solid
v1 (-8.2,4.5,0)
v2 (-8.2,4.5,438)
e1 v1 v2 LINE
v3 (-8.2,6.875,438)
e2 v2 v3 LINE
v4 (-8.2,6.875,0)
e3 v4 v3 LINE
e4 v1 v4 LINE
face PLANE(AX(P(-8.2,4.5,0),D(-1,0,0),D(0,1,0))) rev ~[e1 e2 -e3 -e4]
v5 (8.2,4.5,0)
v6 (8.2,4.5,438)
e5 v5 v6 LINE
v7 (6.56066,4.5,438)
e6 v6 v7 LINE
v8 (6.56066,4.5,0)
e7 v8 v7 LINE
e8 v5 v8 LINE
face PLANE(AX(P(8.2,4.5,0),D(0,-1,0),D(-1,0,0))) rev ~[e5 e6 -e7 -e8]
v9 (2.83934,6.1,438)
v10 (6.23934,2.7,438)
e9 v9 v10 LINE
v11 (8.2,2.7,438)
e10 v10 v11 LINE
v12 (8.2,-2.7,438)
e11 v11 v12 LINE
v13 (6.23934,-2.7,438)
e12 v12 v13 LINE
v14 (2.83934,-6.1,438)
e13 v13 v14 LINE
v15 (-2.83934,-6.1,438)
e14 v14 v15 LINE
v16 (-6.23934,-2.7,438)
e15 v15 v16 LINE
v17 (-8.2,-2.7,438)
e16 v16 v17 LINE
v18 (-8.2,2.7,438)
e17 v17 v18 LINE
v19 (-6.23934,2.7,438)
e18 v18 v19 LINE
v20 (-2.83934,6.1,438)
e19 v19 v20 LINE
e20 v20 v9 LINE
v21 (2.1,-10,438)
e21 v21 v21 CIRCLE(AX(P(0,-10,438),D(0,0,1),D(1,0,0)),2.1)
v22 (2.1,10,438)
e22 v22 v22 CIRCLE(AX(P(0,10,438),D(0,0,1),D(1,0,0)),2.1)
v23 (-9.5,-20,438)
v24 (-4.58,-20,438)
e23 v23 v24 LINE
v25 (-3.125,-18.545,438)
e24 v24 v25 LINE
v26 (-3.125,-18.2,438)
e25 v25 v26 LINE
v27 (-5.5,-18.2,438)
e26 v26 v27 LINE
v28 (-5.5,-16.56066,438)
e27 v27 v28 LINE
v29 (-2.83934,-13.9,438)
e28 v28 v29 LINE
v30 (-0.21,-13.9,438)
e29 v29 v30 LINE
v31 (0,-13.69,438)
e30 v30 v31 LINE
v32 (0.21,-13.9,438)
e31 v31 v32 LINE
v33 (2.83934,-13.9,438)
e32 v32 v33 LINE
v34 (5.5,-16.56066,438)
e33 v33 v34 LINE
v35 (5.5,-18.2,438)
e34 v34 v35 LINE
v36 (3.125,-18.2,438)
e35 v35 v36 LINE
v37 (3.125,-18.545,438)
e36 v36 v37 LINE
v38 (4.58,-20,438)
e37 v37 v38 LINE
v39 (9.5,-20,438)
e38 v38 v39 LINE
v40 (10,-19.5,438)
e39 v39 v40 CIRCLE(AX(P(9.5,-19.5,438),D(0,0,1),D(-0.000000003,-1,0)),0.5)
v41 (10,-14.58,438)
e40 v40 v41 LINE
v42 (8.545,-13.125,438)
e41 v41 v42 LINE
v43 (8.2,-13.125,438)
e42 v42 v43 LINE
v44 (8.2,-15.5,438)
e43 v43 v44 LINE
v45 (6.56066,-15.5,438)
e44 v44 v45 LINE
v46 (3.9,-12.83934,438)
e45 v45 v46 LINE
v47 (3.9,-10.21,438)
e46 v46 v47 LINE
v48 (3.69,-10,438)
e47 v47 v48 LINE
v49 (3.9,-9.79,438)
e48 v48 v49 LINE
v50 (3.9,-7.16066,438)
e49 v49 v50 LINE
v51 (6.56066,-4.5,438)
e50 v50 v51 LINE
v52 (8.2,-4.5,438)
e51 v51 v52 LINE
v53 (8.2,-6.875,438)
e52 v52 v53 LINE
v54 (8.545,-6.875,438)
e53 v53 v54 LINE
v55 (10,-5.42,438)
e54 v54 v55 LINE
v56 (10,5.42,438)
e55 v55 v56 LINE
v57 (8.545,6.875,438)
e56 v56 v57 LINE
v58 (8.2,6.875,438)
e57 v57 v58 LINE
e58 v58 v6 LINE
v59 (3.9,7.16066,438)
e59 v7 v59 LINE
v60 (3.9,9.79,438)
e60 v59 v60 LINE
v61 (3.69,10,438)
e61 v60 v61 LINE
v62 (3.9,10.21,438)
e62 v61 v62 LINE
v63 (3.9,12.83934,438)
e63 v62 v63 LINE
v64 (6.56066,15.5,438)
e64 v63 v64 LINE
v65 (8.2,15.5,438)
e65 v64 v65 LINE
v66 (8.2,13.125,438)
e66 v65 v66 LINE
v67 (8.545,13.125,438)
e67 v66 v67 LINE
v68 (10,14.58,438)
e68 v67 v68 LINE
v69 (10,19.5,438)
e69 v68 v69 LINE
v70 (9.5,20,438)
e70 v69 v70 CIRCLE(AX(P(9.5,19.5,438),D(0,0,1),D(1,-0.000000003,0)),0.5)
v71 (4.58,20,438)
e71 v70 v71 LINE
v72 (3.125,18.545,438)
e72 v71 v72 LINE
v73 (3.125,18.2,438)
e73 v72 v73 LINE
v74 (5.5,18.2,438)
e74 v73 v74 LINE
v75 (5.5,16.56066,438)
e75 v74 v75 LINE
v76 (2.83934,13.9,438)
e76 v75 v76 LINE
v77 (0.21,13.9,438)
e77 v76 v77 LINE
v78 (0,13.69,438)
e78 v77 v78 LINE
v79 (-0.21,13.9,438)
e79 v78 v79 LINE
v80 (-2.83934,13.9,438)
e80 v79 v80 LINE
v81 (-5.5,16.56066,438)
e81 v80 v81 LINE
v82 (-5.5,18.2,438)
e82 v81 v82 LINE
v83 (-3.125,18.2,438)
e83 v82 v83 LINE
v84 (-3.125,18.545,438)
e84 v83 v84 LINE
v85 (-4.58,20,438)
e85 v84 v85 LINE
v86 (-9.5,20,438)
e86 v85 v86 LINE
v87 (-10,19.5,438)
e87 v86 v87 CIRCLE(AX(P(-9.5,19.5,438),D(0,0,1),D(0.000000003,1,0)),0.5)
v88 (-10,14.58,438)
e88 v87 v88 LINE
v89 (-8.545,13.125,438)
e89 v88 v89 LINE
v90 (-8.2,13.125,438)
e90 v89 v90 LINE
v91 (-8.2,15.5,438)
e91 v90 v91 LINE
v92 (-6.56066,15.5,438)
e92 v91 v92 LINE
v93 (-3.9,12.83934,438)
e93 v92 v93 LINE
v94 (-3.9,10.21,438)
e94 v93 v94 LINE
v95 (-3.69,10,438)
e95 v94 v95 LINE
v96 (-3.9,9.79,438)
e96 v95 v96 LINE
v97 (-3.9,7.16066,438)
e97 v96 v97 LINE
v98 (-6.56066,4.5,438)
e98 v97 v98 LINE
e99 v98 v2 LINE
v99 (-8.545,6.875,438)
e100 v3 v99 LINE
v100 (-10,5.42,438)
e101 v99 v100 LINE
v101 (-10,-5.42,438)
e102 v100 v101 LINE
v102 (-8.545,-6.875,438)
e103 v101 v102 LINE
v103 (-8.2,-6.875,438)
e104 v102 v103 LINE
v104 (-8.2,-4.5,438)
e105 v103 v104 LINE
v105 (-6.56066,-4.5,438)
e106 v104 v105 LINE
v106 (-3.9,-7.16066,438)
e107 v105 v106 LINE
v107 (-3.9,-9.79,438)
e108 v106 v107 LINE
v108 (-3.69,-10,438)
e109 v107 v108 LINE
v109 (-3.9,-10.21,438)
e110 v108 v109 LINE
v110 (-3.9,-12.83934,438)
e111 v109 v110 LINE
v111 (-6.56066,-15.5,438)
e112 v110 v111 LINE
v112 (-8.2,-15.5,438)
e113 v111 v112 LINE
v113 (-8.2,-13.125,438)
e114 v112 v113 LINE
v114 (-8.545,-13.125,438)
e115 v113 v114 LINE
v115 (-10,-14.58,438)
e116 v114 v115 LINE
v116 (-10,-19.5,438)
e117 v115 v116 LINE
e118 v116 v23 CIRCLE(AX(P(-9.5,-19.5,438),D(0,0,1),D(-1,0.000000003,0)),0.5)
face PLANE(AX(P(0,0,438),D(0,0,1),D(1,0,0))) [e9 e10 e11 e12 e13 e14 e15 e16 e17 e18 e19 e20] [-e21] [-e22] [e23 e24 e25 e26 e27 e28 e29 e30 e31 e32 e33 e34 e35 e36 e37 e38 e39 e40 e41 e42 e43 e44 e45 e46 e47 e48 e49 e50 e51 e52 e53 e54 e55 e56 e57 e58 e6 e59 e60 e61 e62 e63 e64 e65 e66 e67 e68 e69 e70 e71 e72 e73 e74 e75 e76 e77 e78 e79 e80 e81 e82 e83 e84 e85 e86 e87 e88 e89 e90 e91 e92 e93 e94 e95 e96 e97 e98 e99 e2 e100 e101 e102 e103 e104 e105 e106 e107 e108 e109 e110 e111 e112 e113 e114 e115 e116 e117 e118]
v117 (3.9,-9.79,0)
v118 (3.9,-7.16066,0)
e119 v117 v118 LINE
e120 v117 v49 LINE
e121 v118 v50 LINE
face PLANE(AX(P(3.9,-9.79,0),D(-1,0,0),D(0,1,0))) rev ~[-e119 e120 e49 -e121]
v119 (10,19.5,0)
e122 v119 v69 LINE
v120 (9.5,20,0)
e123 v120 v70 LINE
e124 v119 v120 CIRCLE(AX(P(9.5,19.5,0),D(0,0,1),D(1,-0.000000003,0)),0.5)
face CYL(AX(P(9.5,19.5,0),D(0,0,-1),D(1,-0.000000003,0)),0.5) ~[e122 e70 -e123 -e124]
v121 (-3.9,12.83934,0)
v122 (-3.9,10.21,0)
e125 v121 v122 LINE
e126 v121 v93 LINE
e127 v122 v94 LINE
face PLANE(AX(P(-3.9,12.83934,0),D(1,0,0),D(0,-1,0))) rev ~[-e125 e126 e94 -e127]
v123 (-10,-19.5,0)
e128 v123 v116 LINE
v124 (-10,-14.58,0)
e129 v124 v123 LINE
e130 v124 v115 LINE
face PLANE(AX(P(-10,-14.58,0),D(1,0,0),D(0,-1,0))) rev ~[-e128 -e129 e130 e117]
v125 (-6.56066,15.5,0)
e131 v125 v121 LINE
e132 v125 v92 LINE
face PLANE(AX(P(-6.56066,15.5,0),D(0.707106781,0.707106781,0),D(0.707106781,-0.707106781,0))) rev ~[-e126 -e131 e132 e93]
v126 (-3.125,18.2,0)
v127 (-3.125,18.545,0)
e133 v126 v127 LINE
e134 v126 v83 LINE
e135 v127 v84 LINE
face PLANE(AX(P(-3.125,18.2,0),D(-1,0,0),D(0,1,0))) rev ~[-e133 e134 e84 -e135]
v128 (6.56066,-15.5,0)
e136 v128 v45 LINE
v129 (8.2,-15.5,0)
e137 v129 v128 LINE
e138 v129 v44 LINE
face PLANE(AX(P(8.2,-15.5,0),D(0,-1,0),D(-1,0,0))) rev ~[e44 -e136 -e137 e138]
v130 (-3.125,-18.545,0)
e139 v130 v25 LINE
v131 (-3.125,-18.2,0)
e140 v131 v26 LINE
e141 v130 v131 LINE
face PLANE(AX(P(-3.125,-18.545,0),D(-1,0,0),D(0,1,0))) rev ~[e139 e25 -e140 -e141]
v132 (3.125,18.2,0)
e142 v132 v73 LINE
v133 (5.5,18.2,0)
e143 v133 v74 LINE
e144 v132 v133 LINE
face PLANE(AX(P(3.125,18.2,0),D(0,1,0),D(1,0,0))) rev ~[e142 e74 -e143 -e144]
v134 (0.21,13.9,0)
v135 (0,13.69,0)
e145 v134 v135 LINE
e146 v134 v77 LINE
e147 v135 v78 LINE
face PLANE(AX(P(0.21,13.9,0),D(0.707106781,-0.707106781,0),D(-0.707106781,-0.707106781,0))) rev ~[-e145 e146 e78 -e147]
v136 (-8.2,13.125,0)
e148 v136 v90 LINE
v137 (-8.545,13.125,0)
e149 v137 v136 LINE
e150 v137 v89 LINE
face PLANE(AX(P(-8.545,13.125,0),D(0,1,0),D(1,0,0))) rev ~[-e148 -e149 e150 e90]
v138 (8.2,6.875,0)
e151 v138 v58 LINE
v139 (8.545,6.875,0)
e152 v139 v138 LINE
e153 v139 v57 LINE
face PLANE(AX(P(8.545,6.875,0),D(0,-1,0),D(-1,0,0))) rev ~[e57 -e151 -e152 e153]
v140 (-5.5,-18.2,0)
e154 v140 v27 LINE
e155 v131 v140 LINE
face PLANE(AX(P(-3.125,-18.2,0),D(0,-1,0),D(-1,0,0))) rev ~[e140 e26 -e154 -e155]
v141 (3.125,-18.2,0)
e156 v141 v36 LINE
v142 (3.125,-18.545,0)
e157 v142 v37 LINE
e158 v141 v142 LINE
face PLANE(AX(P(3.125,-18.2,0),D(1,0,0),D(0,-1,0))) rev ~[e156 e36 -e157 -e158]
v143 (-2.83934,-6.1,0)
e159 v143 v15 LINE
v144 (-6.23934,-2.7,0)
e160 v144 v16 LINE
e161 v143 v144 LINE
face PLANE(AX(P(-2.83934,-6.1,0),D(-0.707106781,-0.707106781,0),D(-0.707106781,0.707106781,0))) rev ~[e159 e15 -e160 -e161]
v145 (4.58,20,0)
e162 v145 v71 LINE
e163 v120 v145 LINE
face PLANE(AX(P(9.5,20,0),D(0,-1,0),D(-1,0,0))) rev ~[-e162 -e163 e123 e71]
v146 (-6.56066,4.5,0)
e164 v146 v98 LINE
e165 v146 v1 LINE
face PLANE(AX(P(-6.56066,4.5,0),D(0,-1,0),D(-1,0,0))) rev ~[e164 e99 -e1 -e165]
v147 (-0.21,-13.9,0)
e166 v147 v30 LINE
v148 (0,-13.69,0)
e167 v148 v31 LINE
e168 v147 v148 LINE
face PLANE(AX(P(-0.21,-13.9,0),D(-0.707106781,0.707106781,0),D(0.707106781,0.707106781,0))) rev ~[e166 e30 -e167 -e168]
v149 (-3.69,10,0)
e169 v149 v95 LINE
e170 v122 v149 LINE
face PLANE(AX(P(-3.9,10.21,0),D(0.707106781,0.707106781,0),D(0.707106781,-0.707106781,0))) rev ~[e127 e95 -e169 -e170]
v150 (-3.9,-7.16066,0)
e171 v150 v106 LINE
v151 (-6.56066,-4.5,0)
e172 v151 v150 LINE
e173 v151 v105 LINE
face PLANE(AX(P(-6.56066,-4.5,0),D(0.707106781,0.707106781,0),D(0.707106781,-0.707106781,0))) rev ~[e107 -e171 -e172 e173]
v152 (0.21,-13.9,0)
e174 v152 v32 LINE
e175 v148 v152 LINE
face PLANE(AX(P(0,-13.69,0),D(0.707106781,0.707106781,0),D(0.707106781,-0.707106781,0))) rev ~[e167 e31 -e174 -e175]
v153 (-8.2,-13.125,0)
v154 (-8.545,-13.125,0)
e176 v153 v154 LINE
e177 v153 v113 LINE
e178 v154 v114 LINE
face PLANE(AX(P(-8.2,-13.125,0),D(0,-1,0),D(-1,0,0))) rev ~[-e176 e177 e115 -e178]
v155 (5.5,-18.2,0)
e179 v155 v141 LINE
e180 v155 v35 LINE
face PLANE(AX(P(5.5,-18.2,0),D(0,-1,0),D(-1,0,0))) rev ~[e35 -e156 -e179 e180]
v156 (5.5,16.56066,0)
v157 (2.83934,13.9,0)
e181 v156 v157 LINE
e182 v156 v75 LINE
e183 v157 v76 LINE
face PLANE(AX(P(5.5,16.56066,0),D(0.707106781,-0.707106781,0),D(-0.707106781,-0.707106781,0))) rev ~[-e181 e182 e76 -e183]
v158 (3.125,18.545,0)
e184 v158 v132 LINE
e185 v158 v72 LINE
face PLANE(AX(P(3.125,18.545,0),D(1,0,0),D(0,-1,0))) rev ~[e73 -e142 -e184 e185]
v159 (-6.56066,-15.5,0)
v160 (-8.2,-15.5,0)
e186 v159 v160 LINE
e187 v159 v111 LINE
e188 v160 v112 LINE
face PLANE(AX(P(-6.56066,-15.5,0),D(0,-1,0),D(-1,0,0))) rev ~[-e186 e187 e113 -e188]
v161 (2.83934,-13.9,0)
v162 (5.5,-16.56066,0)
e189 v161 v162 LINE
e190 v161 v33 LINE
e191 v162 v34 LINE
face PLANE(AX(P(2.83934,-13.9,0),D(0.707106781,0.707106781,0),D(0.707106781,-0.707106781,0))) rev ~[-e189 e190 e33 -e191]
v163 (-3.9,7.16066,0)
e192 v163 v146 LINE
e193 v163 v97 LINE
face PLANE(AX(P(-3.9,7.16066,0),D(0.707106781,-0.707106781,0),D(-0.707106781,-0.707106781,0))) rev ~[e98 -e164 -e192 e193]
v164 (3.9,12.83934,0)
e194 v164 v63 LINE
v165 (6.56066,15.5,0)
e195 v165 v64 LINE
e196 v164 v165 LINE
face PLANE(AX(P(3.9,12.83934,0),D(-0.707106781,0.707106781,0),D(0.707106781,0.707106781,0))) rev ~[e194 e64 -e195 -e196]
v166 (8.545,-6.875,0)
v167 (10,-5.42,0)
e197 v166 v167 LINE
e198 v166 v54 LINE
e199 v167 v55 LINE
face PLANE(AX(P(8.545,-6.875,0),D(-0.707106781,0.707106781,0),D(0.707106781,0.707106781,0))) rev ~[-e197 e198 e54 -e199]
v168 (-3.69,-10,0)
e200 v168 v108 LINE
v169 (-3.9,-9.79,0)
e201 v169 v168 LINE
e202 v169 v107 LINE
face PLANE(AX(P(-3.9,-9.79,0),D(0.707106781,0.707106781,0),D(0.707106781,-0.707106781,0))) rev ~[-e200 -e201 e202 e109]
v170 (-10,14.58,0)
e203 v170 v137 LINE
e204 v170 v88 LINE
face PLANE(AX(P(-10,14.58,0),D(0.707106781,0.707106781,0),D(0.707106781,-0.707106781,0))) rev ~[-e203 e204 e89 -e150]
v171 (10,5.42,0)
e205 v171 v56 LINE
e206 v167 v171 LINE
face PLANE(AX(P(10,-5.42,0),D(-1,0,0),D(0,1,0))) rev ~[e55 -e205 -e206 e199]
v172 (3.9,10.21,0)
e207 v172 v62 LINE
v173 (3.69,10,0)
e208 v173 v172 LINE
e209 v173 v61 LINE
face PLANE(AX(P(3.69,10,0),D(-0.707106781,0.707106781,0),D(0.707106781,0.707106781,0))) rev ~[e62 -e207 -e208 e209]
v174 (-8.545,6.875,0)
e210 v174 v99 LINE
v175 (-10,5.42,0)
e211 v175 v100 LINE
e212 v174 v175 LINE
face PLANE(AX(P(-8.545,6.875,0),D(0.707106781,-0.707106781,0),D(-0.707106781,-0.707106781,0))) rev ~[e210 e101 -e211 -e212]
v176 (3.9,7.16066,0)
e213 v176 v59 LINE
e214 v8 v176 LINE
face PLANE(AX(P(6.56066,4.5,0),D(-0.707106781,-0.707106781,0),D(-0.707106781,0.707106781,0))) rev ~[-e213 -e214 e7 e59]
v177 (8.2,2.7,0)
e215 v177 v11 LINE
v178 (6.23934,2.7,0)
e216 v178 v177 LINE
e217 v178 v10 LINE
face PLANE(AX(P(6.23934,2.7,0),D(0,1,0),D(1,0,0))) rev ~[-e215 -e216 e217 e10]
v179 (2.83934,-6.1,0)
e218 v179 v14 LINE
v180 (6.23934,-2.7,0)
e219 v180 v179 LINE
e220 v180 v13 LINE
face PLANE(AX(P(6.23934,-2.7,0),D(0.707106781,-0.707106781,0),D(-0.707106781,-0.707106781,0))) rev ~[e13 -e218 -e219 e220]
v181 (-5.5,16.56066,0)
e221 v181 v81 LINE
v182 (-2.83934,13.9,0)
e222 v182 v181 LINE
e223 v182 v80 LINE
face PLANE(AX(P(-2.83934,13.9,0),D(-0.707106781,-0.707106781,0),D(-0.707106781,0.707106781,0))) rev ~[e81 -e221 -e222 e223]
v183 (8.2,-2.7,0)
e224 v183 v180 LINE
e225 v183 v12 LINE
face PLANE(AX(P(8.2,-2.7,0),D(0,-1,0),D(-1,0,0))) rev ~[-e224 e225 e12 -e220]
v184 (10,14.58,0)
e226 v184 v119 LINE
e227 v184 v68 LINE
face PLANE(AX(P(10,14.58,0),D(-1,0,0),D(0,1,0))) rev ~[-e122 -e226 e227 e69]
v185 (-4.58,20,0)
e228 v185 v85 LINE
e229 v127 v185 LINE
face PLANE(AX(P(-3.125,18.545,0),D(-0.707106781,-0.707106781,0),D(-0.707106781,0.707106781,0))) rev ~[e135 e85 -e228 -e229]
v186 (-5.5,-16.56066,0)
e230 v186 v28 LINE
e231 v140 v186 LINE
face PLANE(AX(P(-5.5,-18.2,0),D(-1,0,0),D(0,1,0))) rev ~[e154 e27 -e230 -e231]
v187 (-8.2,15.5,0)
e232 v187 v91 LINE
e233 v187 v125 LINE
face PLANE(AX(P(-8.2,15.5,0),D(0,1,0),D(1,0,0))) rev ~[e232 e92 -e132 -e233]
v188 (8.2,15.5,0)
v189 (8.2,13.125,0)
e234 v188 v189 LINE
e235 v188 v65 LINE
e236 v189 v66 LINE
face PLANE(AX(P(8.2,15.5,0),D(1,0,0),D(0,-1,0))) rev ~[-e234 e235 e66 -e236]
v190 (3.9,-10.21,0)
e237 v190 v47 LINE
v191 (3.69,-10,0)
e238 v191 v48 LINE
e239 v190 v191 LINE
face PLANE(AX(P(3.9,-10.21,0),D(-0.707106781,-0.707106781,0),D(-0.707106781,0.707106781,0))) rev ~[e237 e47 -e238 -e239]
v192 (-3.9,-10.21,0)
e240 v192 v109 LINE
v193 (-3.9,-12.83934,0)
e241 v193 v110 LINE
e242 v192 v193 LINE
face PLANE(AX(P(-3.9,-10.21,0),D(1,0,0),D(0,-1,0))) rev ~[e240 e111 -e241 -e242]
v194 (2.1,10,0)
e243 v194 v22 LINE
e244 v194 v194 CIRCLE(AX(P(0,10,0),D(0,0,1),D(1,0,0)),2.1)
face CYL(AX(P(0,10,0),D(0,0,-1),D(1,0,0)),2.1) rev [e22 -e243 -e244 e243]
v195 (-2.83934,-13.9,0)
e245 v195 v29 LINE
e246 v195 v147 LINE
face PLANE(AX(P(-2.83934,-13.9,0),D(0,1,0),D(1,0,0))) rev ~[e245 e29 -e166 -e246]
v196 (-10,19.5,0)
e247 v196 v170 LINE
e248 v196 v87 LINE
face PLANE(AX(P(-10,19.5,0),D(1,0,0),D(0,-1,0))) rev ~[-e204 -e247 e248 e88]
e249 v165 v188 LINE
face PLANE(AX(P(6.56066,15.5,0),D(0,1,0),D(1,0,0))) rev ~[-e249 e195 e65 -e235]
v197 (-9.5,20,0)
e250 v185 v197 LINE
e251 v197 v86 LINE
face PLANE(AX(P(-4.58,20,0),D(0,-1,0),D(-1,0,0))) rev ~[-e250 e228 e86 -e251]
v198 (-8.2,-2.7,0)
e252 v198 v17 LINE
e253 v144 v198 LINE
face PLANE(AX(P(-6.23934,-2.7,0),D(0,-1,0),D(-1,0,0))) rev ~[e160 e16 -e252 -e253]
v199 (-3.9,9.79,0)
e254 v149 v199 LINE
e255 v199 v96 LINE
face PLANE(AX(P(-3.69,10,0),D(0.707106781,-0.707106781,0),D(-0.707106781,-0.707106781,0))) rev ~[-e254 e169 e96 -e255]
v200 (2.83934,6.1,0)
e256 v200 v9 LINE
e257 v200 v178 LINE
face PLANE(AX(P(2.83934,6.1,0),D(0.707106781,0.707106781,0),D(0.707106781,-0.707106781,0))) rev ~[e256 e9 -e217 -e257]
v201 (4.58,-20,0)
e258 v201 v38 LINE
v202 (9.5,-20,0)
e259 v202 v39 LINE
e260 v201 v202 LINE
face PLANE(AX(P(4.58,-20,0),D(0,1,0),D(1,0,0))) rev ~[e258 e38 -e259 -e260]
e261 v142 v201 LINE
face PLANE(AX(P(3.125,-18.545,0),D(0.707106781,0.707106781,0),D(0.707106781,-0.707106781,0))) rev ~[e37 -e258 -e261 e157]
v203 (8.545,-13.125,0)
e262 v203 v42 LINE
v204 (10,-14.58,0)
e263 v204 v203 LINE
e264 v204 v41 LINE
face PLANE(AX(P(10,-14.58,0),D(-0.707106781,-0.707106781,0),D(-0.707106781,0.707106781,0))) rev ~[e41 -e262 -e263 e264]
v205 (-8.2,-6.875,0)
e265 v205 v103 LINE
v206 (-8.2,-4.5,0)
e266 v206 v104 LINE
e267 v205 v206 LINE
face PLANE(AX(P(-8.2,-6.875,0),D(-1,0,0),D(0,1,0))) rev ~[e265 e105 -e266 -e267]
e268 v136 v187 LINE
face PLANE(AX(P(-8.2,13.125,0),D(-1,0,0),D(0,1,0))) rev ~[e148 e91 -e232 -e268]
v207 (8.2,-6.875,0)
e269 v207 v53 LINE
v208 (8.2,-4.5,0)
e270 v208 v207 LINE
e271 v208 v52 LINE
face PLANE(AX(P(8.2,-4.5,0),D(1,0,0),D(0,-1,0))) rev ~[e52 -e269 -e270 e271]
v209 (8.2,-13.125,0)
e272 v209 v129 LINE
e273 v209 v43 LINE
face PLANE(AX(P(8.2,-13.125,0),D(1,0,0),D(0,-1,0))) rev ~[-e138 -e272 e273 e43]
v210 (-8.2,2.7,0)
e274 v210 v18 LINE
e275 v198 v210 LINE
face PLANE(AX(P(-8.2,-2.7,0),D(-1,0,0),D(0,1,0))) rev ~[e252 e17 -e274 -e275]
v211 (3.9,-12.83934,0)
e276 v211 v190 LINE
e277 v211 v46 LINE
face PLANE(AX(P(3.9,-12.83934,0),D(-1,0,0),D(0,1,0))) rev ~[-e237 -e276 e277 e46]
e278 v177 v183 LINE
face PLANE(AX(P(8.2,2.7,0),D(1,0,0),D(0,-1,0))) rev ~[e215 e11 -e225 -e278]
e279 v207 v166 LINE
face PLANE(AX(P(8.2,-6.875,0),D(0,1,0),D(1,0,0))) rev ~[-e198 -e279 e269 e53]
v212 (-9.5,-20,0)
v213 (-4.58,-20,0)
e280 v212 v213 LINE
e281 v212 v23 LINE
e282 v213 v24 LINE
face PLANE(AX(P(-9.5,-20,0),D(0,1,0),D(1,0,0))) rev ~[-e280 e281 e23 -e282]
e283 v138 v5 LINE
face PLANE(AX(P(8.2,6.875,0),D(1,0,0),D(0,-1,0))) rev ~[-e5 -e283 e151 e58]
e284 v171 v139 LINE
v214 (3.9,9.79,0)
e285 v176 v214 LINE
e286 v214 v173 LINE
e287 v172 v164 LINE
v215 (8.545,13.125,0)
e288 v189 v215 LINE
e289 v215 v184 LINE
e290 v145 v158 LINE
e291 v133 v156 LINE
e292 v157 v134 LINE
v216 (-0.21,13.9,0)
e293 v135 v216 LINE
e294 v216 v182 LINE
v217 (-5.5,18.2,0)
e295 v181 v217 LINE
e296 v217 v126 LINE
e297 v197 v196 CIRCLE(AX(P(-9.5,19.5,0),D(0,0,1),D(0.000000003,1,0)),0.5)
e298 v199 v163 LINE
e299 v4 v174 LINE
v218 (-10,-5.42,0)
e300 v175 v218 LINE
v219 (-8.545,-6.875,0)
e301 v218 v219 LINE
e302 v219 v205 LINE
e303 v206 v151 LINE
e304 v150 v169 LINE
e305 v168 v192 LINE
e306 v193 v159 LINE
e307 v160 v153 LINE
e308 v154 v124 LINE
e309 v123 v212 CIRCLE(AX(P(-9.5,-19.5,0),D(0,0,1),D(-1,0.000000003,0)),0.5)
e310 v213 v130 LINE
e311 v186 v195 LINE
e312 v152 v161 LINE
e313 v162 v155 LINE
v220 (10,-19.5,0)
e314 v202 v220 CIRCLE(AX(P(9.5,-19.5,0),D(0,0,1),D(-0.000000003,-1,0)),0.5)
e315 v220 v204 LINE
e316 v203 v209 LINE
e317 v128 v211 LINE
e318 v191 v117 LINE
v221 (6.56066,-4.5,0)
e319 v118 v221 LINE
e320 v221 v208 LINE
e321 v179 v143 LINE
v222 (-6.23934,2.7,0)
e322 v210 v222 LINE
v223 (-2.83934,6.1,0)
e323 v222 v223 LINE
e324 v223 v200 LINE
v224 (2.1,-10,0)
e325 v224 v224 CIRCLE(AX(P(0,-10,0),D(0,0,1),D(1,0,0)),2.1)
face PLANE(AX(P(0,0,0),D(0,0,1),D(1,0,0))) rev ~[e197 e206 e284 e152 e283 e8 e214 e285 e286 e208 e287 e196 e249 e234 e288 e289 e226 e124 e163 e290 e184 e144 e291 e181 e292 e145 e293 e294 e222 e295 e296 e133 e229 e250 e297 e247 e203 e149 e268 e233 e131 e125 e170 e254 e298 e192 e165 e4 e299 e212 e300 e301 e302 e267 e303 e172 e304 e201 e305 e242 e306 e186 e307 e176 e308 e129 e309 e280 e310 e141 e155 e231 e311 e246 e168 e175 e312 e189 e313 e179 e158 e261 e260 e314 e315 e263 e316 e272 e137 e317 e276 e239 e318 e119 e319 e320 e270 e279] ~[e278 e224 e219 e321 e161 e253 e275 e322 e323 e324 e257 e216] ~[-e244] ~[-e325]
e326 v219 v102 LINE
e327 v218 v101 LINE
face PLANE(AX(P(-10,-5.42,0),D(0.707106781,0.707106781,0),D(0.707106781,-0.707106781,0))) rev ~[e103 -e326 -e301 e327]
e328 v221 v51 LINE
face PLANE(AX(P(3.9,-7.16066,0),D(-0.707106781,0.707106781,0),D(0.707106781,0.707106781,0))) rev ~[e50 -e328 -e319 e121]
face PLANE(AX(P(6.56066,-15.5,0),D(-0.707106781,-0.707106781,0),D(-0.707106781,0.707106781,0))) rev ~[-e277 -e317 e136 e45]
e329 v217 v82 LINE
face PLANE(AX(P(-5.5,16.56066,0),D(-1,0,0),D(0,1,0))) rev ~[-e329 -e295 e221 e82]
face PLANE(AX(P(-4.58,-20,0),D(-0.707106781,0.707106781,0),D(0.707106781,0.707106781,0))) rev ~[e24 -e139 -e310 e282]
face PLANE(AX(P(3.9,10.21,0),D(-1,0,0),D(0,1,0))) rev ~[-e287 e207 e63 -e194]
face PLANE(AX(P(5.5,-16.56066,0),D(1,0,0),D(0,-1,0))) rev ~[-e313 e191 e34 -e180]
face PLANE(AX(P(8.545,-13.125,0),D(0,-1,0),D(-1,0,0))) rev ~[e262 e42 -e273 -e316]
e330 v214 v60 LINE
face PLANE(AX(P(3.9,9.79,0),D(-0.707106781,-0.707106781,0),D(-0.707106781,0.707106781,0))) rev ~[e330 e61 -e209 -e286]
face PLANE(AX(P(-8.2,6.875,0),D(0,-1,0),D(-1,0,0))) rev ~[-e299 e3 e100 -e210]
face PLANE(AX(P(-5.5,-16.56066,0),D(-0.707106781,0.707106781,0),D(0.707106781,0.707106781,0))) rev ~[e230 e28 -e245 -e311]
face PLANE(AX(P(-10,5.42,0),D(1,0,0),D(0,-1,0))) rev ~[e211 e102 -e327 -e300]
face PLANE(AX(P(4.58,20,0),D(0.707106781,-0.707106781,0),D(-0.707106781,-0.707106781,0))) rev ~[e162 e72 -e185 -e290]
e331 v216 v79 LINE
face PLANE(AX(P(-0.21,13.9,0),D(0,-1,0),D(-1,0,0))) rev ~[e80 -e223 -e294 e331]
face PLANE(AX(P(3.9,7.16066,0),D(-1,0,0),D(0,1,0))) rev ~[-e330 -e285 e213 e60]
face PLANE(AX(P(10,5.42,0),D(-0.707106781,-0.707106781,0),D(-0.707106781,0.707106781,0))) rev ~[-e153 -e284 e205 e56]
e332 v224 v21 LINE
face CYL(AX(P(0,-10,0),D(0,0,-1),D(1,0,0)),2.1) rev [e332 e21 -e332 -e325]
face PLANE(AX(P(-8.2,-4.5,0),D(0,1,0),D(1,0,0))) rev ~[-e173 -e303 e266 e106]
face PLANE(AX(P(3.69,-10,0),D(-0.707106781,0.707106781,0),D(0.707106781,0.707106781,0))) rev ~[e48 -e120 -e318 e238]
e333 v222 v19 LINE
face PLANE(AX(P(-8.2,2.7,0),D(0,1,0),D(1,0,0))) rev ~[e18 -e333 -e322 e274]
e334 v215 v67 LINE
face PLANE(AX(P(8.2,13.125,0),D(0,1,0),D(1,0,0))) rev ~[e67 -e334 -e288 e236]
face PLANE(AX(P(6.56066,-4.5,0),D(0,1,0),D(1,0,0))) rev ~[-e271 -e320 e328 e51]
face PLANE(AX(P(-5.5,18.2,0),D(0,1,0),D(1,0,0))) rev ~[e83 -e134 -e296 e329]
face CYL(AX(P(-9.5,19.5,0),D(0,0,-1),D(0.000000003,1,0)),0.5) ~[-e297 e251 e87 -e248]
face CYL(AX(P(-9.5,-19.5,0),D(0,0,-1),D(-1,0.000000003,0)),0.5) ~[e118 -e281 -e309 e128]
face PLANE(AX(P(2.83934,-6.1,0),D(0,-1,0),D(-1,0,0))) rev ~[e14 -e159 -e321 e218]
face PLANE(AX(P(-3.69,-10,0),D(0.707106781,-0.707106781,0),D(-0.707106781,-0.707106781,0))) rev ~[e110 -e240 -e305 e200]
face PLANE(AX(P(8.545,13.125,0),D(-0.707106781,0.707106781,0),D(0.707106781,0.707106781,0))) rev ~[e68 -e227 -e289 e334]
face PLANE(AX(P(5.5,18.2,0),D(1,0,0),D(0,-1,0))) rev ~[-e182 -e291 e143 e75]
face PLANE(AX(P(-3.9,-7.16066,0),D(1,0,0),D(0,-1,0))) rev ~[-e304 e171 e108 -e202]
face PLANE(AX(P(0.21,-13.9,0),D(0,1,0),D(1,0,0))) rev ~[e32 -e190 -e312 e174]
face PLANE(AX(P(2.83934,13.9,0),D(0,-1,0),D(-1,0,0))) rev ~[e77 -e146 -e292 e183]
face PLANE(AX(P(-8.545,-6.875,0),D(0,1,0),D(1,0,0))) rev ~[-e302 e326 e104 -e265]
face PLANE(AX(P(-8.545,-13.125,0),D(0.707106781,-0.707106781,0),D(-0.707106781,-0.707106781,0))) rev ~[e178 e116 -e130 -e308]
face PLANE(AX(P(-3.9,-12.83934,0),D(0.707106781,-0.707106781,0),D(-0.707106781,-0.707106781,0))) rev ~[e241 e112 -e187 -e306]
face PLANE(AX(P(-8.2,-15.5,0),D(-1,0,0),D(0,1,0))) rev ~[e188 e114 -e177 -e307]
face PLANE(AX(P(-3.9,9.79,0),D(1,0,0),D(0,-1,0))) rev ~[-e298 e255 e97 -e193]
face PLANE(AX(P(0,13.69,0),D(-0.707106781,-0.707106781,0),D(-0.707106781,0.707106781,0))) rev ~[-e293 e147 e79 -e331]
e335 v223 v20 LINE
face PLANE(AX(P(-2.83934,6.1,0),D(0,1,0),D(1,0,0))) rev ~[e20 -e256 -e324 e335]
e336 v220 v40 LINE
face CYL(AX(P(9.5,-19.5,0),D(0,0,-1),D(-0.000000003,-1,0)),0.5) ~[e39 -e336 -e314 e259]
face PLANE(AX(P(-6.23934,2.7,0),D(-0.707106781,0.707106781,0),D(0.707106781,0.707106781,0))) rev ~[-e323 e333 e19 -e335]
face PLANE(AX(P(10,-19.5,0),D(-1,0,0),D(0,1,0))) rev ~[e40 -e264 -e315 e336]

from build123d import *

# Parameters (mm, degrees)
SKETCH1_R           = 2.1
BOSS_EXTRUDE1_DEPTH = 438


with BuildPart() as part:
    # Sketch1 → Boss-Extrude1 (new body)
    with BuildSketch(Plane.XY):
        with BuildLine():
            Line((4.58, -20), (9.5, -20))
            ThreePointArc((9.5, -20), (9.853553391, -19.853553391), (10, -19.5))
            Line((10, -19.5), (10, -14.58))
            Line((10, -14.58), (8.545, -13.125))
            Line((8.545, -13.125), (8.2, -13.125))
            Line((8.2, -13.125), (8.2, -15.5))
            Line((8.2, -15.5), (6.560660172, -15.5))
            Line((6.560660172, -15.5), (3.9, -12.839339828))
            Line((3.9, -12.839339828), (3.9, -10.21))
            Line((3.9, -10.21), (3.69, -10))
            Line((3.69, -10), (3.9, -9.79))
            Line((3.9, -9.79), (3.9, -7.160660172))
            Line((3.9, -7.160660172), (6.560660172, -4.5))
            Line((6.560660172, -4.5), (8.2, -4.5))
            Line((8.2, -4.5), (8.2, -6.875))
            Line((8.2, -6.875), (8.545, -6.875))
            Line((8.545, -6.875), (10, -5.42))
            Line((10, -5.42), (10, 5.42))
            Line((10, 5.42), (8.545, 6.875))
            Line((8.545, 6.875), (8.2, 6.875))
            Line((8.2, 6.875), (8.2, 4.5))
            Line((8.2, 4.5), (6.560660172, 4.5))
            Line((6.560660172, 4.5), (3.9, 7.160660172))
            Line((3.9, 7.160660172), (3.9, 9.79))
            Line((3.9, 9.79), (3.69, 10))
            Line((3.69, 10), (3.9, 10.21))
            Line((3.9, 10.21), (3.9, 12.839339828))
            Line((3.9, 12.839339828), (6.560660172, 15.5))
            Line((6.560660172, 15.5), (8.2, 15.5))
            Line((8.2, 15.5), (8.2, 13.125))
            Line((8.2, 13.125), (8.545, 13.125))
            Line((8.545, 13.125), (10, 14.58))
            Line((10, 14.58), (10, 19.5))
            ThreePointArc((10, 19.5), (9.853553391, 19.853553391), (9.5, 20))
            Line((9.5, 20), (4.58, 20))
            Line((4.58, 20), (3.125, 18.545))
            Line((3.125, 18.545), (3.125, 18.2))
            Line((3.125, 18.2), (5.5, 18.2))
            Line((5.5, 18.2), (5.5, 16.560660172))
            Line((5.5, 16.560660172), (2.839339828, 13.9))
            Line((2.839339828, 13.9), (0.21, 13.9))
            Line((0.21, 13.9), (0, 13.69))
            Line((0, 13.69), (-0.21, 13.9))
            Line((-0.21, 13.9), (-2.839339828, 13.9))
            Line((-2.839339828, 13.9), (-5.5, 16.560660172))
            Line((-5.5, 16.560660172), (-5.5, 18.2))
            Line((-5.5, 18.2), (-3.125, 18.2))
            Line((-3.125, 18.2), (-3.125, 18.545))
            Line((-3.125, 18.545), (-4.58, 20))
            Line((-4.58, 20), (-9.5, 20))
            ThreePointArc((-9.5, 20), (-9.853553391, 19.853553391), (-10, 19.5))
            Line((-10, 19.5), (-10, 14.58))
            Line((-10, 14.58), (-8.545, 13.125))
            Line((-8.545, 13.125), (-8.2, 13.125))
            Line((-8.2, 13.125), (-8.2, 15.5))
            Line((-8.2, 15.5), (-6.560660172, 15.5))
            Line((-6.560660172, 15.5), (-3.9, 12.839339828))
            Line((-3.9, 12.839339828), (-3.9, 10.21))
            Line((-3.9, 10.21), (-3.69, 10))
            Line((-3.69, 10), (-3.9, 9.79))
            Line((-3.9, 9.79), (-3.9, 7.160660172))
            Line((-3.9, 7.160660172), (-6.560660172, 4.5))
            Line((-6.560660172, 4.5), (-8.2, 4.5))
            Line((-8.2, 4.5), (-8.2, 6.875))
            Line((-8.2, 6.875), (-8.545, 6.875))
            Line((-8.545, 6.875), (-10, 5.42))
            Line((-10, 5.42), (-10, -5.42))
            Line((-10, -5.42), (-8.545, -6.875))
            Line((-8.545, -6.875), (-8.2, -6.875))
            Line((-8.2, -6.875), (-8.2, -4.5))
            Line((-8.2, -4.5), (-6.560660172, -4.5))
            Line((-6.560660172, -4.5), (-3.9, -7.160660172))
            Line((-3.9, -7.160660172), (-3.9, -9.79))
            Line((-3.9, -9.79), (-3.69, -10))
            Line((-3.69, -10), (-3.9, -10.21))
            Line((-3.9, -10.21), (-3.9, -12.839339828))
            Line((-3.9, -12.839339828), (-6.560660172, -15.5))
            Line((-6.560660172, -15.5), (-8.2, -15.5))
            Line((-8.2, -15.5), (-8.2, -13.125))
            Line((-8.2, -13.125), (-8.545, -13.125))
            Line((-8.545, -13.125), (-10, -14.58))
            Line((-10, -14.58), (-10, -19.5))
            ThreePointArc((-10, -19.5), (-9.853553391, -19.853553391), (-9.5, -20))
            Line((-9.5, -20), (-4.58, -20))
            Line((-4.58, -20), (-3.125, -18.545))
            Line((-3.125, -18.545), (-3.125, -18.2))
            Line((-3.125, -18.2), (-5.5, -18.2))
            Line((-5.5, -18.2), (-5.5, -16.560660172))
            Line((-5.5, -16.560660172), (-2.839339828, -13.9))
            Line((-2.839339828, -13.9), (-0.21, -13.9))
            Line((-0.21, -13.9), (0, -13.69))
            Line((0, -13.69), (0.21, -13.9))
            Line((0.21, -13.9), (2.839339828, -13.9))
            Line((2.839339828, -13.9), (5.5, -16.560660172))
            Line((5.5, -16.560660172), (5.5, -18.2))
            Line((5.5, -18.2), (3.125, -18.2))
            Line((3.125, -18.2), (3.125, -18.545))
            Line((3.125, -18.545), (4.58, -20))
        make_face()
        with Locations((0, -10)):
            Circle(SKETCH1_R, mode=Mode.SUBTRACT)
        Polygon((-6.239339828, -2.7), (-8.2, -2.7), (-8.2, 2.7), (-6.239339828, 2.7), (-2.839339828, 6.1), (2.839339828, 6.1), (6.239339828, 2.7), (8.2, 2.7), (8.2, -2.7), (6.239339828, -2.7), (2.839339828, -6.1), (-2.839339828, -6.1), align=None, mode=Mode.SUBTRACT)
        with Locations((0, 10)):
            Circle(SKETCH1_R, mode=Mode.SUBTRACT)
    extrude(amount=BOSS_EXTRUDE1_DEPTH)


solid = part.part
